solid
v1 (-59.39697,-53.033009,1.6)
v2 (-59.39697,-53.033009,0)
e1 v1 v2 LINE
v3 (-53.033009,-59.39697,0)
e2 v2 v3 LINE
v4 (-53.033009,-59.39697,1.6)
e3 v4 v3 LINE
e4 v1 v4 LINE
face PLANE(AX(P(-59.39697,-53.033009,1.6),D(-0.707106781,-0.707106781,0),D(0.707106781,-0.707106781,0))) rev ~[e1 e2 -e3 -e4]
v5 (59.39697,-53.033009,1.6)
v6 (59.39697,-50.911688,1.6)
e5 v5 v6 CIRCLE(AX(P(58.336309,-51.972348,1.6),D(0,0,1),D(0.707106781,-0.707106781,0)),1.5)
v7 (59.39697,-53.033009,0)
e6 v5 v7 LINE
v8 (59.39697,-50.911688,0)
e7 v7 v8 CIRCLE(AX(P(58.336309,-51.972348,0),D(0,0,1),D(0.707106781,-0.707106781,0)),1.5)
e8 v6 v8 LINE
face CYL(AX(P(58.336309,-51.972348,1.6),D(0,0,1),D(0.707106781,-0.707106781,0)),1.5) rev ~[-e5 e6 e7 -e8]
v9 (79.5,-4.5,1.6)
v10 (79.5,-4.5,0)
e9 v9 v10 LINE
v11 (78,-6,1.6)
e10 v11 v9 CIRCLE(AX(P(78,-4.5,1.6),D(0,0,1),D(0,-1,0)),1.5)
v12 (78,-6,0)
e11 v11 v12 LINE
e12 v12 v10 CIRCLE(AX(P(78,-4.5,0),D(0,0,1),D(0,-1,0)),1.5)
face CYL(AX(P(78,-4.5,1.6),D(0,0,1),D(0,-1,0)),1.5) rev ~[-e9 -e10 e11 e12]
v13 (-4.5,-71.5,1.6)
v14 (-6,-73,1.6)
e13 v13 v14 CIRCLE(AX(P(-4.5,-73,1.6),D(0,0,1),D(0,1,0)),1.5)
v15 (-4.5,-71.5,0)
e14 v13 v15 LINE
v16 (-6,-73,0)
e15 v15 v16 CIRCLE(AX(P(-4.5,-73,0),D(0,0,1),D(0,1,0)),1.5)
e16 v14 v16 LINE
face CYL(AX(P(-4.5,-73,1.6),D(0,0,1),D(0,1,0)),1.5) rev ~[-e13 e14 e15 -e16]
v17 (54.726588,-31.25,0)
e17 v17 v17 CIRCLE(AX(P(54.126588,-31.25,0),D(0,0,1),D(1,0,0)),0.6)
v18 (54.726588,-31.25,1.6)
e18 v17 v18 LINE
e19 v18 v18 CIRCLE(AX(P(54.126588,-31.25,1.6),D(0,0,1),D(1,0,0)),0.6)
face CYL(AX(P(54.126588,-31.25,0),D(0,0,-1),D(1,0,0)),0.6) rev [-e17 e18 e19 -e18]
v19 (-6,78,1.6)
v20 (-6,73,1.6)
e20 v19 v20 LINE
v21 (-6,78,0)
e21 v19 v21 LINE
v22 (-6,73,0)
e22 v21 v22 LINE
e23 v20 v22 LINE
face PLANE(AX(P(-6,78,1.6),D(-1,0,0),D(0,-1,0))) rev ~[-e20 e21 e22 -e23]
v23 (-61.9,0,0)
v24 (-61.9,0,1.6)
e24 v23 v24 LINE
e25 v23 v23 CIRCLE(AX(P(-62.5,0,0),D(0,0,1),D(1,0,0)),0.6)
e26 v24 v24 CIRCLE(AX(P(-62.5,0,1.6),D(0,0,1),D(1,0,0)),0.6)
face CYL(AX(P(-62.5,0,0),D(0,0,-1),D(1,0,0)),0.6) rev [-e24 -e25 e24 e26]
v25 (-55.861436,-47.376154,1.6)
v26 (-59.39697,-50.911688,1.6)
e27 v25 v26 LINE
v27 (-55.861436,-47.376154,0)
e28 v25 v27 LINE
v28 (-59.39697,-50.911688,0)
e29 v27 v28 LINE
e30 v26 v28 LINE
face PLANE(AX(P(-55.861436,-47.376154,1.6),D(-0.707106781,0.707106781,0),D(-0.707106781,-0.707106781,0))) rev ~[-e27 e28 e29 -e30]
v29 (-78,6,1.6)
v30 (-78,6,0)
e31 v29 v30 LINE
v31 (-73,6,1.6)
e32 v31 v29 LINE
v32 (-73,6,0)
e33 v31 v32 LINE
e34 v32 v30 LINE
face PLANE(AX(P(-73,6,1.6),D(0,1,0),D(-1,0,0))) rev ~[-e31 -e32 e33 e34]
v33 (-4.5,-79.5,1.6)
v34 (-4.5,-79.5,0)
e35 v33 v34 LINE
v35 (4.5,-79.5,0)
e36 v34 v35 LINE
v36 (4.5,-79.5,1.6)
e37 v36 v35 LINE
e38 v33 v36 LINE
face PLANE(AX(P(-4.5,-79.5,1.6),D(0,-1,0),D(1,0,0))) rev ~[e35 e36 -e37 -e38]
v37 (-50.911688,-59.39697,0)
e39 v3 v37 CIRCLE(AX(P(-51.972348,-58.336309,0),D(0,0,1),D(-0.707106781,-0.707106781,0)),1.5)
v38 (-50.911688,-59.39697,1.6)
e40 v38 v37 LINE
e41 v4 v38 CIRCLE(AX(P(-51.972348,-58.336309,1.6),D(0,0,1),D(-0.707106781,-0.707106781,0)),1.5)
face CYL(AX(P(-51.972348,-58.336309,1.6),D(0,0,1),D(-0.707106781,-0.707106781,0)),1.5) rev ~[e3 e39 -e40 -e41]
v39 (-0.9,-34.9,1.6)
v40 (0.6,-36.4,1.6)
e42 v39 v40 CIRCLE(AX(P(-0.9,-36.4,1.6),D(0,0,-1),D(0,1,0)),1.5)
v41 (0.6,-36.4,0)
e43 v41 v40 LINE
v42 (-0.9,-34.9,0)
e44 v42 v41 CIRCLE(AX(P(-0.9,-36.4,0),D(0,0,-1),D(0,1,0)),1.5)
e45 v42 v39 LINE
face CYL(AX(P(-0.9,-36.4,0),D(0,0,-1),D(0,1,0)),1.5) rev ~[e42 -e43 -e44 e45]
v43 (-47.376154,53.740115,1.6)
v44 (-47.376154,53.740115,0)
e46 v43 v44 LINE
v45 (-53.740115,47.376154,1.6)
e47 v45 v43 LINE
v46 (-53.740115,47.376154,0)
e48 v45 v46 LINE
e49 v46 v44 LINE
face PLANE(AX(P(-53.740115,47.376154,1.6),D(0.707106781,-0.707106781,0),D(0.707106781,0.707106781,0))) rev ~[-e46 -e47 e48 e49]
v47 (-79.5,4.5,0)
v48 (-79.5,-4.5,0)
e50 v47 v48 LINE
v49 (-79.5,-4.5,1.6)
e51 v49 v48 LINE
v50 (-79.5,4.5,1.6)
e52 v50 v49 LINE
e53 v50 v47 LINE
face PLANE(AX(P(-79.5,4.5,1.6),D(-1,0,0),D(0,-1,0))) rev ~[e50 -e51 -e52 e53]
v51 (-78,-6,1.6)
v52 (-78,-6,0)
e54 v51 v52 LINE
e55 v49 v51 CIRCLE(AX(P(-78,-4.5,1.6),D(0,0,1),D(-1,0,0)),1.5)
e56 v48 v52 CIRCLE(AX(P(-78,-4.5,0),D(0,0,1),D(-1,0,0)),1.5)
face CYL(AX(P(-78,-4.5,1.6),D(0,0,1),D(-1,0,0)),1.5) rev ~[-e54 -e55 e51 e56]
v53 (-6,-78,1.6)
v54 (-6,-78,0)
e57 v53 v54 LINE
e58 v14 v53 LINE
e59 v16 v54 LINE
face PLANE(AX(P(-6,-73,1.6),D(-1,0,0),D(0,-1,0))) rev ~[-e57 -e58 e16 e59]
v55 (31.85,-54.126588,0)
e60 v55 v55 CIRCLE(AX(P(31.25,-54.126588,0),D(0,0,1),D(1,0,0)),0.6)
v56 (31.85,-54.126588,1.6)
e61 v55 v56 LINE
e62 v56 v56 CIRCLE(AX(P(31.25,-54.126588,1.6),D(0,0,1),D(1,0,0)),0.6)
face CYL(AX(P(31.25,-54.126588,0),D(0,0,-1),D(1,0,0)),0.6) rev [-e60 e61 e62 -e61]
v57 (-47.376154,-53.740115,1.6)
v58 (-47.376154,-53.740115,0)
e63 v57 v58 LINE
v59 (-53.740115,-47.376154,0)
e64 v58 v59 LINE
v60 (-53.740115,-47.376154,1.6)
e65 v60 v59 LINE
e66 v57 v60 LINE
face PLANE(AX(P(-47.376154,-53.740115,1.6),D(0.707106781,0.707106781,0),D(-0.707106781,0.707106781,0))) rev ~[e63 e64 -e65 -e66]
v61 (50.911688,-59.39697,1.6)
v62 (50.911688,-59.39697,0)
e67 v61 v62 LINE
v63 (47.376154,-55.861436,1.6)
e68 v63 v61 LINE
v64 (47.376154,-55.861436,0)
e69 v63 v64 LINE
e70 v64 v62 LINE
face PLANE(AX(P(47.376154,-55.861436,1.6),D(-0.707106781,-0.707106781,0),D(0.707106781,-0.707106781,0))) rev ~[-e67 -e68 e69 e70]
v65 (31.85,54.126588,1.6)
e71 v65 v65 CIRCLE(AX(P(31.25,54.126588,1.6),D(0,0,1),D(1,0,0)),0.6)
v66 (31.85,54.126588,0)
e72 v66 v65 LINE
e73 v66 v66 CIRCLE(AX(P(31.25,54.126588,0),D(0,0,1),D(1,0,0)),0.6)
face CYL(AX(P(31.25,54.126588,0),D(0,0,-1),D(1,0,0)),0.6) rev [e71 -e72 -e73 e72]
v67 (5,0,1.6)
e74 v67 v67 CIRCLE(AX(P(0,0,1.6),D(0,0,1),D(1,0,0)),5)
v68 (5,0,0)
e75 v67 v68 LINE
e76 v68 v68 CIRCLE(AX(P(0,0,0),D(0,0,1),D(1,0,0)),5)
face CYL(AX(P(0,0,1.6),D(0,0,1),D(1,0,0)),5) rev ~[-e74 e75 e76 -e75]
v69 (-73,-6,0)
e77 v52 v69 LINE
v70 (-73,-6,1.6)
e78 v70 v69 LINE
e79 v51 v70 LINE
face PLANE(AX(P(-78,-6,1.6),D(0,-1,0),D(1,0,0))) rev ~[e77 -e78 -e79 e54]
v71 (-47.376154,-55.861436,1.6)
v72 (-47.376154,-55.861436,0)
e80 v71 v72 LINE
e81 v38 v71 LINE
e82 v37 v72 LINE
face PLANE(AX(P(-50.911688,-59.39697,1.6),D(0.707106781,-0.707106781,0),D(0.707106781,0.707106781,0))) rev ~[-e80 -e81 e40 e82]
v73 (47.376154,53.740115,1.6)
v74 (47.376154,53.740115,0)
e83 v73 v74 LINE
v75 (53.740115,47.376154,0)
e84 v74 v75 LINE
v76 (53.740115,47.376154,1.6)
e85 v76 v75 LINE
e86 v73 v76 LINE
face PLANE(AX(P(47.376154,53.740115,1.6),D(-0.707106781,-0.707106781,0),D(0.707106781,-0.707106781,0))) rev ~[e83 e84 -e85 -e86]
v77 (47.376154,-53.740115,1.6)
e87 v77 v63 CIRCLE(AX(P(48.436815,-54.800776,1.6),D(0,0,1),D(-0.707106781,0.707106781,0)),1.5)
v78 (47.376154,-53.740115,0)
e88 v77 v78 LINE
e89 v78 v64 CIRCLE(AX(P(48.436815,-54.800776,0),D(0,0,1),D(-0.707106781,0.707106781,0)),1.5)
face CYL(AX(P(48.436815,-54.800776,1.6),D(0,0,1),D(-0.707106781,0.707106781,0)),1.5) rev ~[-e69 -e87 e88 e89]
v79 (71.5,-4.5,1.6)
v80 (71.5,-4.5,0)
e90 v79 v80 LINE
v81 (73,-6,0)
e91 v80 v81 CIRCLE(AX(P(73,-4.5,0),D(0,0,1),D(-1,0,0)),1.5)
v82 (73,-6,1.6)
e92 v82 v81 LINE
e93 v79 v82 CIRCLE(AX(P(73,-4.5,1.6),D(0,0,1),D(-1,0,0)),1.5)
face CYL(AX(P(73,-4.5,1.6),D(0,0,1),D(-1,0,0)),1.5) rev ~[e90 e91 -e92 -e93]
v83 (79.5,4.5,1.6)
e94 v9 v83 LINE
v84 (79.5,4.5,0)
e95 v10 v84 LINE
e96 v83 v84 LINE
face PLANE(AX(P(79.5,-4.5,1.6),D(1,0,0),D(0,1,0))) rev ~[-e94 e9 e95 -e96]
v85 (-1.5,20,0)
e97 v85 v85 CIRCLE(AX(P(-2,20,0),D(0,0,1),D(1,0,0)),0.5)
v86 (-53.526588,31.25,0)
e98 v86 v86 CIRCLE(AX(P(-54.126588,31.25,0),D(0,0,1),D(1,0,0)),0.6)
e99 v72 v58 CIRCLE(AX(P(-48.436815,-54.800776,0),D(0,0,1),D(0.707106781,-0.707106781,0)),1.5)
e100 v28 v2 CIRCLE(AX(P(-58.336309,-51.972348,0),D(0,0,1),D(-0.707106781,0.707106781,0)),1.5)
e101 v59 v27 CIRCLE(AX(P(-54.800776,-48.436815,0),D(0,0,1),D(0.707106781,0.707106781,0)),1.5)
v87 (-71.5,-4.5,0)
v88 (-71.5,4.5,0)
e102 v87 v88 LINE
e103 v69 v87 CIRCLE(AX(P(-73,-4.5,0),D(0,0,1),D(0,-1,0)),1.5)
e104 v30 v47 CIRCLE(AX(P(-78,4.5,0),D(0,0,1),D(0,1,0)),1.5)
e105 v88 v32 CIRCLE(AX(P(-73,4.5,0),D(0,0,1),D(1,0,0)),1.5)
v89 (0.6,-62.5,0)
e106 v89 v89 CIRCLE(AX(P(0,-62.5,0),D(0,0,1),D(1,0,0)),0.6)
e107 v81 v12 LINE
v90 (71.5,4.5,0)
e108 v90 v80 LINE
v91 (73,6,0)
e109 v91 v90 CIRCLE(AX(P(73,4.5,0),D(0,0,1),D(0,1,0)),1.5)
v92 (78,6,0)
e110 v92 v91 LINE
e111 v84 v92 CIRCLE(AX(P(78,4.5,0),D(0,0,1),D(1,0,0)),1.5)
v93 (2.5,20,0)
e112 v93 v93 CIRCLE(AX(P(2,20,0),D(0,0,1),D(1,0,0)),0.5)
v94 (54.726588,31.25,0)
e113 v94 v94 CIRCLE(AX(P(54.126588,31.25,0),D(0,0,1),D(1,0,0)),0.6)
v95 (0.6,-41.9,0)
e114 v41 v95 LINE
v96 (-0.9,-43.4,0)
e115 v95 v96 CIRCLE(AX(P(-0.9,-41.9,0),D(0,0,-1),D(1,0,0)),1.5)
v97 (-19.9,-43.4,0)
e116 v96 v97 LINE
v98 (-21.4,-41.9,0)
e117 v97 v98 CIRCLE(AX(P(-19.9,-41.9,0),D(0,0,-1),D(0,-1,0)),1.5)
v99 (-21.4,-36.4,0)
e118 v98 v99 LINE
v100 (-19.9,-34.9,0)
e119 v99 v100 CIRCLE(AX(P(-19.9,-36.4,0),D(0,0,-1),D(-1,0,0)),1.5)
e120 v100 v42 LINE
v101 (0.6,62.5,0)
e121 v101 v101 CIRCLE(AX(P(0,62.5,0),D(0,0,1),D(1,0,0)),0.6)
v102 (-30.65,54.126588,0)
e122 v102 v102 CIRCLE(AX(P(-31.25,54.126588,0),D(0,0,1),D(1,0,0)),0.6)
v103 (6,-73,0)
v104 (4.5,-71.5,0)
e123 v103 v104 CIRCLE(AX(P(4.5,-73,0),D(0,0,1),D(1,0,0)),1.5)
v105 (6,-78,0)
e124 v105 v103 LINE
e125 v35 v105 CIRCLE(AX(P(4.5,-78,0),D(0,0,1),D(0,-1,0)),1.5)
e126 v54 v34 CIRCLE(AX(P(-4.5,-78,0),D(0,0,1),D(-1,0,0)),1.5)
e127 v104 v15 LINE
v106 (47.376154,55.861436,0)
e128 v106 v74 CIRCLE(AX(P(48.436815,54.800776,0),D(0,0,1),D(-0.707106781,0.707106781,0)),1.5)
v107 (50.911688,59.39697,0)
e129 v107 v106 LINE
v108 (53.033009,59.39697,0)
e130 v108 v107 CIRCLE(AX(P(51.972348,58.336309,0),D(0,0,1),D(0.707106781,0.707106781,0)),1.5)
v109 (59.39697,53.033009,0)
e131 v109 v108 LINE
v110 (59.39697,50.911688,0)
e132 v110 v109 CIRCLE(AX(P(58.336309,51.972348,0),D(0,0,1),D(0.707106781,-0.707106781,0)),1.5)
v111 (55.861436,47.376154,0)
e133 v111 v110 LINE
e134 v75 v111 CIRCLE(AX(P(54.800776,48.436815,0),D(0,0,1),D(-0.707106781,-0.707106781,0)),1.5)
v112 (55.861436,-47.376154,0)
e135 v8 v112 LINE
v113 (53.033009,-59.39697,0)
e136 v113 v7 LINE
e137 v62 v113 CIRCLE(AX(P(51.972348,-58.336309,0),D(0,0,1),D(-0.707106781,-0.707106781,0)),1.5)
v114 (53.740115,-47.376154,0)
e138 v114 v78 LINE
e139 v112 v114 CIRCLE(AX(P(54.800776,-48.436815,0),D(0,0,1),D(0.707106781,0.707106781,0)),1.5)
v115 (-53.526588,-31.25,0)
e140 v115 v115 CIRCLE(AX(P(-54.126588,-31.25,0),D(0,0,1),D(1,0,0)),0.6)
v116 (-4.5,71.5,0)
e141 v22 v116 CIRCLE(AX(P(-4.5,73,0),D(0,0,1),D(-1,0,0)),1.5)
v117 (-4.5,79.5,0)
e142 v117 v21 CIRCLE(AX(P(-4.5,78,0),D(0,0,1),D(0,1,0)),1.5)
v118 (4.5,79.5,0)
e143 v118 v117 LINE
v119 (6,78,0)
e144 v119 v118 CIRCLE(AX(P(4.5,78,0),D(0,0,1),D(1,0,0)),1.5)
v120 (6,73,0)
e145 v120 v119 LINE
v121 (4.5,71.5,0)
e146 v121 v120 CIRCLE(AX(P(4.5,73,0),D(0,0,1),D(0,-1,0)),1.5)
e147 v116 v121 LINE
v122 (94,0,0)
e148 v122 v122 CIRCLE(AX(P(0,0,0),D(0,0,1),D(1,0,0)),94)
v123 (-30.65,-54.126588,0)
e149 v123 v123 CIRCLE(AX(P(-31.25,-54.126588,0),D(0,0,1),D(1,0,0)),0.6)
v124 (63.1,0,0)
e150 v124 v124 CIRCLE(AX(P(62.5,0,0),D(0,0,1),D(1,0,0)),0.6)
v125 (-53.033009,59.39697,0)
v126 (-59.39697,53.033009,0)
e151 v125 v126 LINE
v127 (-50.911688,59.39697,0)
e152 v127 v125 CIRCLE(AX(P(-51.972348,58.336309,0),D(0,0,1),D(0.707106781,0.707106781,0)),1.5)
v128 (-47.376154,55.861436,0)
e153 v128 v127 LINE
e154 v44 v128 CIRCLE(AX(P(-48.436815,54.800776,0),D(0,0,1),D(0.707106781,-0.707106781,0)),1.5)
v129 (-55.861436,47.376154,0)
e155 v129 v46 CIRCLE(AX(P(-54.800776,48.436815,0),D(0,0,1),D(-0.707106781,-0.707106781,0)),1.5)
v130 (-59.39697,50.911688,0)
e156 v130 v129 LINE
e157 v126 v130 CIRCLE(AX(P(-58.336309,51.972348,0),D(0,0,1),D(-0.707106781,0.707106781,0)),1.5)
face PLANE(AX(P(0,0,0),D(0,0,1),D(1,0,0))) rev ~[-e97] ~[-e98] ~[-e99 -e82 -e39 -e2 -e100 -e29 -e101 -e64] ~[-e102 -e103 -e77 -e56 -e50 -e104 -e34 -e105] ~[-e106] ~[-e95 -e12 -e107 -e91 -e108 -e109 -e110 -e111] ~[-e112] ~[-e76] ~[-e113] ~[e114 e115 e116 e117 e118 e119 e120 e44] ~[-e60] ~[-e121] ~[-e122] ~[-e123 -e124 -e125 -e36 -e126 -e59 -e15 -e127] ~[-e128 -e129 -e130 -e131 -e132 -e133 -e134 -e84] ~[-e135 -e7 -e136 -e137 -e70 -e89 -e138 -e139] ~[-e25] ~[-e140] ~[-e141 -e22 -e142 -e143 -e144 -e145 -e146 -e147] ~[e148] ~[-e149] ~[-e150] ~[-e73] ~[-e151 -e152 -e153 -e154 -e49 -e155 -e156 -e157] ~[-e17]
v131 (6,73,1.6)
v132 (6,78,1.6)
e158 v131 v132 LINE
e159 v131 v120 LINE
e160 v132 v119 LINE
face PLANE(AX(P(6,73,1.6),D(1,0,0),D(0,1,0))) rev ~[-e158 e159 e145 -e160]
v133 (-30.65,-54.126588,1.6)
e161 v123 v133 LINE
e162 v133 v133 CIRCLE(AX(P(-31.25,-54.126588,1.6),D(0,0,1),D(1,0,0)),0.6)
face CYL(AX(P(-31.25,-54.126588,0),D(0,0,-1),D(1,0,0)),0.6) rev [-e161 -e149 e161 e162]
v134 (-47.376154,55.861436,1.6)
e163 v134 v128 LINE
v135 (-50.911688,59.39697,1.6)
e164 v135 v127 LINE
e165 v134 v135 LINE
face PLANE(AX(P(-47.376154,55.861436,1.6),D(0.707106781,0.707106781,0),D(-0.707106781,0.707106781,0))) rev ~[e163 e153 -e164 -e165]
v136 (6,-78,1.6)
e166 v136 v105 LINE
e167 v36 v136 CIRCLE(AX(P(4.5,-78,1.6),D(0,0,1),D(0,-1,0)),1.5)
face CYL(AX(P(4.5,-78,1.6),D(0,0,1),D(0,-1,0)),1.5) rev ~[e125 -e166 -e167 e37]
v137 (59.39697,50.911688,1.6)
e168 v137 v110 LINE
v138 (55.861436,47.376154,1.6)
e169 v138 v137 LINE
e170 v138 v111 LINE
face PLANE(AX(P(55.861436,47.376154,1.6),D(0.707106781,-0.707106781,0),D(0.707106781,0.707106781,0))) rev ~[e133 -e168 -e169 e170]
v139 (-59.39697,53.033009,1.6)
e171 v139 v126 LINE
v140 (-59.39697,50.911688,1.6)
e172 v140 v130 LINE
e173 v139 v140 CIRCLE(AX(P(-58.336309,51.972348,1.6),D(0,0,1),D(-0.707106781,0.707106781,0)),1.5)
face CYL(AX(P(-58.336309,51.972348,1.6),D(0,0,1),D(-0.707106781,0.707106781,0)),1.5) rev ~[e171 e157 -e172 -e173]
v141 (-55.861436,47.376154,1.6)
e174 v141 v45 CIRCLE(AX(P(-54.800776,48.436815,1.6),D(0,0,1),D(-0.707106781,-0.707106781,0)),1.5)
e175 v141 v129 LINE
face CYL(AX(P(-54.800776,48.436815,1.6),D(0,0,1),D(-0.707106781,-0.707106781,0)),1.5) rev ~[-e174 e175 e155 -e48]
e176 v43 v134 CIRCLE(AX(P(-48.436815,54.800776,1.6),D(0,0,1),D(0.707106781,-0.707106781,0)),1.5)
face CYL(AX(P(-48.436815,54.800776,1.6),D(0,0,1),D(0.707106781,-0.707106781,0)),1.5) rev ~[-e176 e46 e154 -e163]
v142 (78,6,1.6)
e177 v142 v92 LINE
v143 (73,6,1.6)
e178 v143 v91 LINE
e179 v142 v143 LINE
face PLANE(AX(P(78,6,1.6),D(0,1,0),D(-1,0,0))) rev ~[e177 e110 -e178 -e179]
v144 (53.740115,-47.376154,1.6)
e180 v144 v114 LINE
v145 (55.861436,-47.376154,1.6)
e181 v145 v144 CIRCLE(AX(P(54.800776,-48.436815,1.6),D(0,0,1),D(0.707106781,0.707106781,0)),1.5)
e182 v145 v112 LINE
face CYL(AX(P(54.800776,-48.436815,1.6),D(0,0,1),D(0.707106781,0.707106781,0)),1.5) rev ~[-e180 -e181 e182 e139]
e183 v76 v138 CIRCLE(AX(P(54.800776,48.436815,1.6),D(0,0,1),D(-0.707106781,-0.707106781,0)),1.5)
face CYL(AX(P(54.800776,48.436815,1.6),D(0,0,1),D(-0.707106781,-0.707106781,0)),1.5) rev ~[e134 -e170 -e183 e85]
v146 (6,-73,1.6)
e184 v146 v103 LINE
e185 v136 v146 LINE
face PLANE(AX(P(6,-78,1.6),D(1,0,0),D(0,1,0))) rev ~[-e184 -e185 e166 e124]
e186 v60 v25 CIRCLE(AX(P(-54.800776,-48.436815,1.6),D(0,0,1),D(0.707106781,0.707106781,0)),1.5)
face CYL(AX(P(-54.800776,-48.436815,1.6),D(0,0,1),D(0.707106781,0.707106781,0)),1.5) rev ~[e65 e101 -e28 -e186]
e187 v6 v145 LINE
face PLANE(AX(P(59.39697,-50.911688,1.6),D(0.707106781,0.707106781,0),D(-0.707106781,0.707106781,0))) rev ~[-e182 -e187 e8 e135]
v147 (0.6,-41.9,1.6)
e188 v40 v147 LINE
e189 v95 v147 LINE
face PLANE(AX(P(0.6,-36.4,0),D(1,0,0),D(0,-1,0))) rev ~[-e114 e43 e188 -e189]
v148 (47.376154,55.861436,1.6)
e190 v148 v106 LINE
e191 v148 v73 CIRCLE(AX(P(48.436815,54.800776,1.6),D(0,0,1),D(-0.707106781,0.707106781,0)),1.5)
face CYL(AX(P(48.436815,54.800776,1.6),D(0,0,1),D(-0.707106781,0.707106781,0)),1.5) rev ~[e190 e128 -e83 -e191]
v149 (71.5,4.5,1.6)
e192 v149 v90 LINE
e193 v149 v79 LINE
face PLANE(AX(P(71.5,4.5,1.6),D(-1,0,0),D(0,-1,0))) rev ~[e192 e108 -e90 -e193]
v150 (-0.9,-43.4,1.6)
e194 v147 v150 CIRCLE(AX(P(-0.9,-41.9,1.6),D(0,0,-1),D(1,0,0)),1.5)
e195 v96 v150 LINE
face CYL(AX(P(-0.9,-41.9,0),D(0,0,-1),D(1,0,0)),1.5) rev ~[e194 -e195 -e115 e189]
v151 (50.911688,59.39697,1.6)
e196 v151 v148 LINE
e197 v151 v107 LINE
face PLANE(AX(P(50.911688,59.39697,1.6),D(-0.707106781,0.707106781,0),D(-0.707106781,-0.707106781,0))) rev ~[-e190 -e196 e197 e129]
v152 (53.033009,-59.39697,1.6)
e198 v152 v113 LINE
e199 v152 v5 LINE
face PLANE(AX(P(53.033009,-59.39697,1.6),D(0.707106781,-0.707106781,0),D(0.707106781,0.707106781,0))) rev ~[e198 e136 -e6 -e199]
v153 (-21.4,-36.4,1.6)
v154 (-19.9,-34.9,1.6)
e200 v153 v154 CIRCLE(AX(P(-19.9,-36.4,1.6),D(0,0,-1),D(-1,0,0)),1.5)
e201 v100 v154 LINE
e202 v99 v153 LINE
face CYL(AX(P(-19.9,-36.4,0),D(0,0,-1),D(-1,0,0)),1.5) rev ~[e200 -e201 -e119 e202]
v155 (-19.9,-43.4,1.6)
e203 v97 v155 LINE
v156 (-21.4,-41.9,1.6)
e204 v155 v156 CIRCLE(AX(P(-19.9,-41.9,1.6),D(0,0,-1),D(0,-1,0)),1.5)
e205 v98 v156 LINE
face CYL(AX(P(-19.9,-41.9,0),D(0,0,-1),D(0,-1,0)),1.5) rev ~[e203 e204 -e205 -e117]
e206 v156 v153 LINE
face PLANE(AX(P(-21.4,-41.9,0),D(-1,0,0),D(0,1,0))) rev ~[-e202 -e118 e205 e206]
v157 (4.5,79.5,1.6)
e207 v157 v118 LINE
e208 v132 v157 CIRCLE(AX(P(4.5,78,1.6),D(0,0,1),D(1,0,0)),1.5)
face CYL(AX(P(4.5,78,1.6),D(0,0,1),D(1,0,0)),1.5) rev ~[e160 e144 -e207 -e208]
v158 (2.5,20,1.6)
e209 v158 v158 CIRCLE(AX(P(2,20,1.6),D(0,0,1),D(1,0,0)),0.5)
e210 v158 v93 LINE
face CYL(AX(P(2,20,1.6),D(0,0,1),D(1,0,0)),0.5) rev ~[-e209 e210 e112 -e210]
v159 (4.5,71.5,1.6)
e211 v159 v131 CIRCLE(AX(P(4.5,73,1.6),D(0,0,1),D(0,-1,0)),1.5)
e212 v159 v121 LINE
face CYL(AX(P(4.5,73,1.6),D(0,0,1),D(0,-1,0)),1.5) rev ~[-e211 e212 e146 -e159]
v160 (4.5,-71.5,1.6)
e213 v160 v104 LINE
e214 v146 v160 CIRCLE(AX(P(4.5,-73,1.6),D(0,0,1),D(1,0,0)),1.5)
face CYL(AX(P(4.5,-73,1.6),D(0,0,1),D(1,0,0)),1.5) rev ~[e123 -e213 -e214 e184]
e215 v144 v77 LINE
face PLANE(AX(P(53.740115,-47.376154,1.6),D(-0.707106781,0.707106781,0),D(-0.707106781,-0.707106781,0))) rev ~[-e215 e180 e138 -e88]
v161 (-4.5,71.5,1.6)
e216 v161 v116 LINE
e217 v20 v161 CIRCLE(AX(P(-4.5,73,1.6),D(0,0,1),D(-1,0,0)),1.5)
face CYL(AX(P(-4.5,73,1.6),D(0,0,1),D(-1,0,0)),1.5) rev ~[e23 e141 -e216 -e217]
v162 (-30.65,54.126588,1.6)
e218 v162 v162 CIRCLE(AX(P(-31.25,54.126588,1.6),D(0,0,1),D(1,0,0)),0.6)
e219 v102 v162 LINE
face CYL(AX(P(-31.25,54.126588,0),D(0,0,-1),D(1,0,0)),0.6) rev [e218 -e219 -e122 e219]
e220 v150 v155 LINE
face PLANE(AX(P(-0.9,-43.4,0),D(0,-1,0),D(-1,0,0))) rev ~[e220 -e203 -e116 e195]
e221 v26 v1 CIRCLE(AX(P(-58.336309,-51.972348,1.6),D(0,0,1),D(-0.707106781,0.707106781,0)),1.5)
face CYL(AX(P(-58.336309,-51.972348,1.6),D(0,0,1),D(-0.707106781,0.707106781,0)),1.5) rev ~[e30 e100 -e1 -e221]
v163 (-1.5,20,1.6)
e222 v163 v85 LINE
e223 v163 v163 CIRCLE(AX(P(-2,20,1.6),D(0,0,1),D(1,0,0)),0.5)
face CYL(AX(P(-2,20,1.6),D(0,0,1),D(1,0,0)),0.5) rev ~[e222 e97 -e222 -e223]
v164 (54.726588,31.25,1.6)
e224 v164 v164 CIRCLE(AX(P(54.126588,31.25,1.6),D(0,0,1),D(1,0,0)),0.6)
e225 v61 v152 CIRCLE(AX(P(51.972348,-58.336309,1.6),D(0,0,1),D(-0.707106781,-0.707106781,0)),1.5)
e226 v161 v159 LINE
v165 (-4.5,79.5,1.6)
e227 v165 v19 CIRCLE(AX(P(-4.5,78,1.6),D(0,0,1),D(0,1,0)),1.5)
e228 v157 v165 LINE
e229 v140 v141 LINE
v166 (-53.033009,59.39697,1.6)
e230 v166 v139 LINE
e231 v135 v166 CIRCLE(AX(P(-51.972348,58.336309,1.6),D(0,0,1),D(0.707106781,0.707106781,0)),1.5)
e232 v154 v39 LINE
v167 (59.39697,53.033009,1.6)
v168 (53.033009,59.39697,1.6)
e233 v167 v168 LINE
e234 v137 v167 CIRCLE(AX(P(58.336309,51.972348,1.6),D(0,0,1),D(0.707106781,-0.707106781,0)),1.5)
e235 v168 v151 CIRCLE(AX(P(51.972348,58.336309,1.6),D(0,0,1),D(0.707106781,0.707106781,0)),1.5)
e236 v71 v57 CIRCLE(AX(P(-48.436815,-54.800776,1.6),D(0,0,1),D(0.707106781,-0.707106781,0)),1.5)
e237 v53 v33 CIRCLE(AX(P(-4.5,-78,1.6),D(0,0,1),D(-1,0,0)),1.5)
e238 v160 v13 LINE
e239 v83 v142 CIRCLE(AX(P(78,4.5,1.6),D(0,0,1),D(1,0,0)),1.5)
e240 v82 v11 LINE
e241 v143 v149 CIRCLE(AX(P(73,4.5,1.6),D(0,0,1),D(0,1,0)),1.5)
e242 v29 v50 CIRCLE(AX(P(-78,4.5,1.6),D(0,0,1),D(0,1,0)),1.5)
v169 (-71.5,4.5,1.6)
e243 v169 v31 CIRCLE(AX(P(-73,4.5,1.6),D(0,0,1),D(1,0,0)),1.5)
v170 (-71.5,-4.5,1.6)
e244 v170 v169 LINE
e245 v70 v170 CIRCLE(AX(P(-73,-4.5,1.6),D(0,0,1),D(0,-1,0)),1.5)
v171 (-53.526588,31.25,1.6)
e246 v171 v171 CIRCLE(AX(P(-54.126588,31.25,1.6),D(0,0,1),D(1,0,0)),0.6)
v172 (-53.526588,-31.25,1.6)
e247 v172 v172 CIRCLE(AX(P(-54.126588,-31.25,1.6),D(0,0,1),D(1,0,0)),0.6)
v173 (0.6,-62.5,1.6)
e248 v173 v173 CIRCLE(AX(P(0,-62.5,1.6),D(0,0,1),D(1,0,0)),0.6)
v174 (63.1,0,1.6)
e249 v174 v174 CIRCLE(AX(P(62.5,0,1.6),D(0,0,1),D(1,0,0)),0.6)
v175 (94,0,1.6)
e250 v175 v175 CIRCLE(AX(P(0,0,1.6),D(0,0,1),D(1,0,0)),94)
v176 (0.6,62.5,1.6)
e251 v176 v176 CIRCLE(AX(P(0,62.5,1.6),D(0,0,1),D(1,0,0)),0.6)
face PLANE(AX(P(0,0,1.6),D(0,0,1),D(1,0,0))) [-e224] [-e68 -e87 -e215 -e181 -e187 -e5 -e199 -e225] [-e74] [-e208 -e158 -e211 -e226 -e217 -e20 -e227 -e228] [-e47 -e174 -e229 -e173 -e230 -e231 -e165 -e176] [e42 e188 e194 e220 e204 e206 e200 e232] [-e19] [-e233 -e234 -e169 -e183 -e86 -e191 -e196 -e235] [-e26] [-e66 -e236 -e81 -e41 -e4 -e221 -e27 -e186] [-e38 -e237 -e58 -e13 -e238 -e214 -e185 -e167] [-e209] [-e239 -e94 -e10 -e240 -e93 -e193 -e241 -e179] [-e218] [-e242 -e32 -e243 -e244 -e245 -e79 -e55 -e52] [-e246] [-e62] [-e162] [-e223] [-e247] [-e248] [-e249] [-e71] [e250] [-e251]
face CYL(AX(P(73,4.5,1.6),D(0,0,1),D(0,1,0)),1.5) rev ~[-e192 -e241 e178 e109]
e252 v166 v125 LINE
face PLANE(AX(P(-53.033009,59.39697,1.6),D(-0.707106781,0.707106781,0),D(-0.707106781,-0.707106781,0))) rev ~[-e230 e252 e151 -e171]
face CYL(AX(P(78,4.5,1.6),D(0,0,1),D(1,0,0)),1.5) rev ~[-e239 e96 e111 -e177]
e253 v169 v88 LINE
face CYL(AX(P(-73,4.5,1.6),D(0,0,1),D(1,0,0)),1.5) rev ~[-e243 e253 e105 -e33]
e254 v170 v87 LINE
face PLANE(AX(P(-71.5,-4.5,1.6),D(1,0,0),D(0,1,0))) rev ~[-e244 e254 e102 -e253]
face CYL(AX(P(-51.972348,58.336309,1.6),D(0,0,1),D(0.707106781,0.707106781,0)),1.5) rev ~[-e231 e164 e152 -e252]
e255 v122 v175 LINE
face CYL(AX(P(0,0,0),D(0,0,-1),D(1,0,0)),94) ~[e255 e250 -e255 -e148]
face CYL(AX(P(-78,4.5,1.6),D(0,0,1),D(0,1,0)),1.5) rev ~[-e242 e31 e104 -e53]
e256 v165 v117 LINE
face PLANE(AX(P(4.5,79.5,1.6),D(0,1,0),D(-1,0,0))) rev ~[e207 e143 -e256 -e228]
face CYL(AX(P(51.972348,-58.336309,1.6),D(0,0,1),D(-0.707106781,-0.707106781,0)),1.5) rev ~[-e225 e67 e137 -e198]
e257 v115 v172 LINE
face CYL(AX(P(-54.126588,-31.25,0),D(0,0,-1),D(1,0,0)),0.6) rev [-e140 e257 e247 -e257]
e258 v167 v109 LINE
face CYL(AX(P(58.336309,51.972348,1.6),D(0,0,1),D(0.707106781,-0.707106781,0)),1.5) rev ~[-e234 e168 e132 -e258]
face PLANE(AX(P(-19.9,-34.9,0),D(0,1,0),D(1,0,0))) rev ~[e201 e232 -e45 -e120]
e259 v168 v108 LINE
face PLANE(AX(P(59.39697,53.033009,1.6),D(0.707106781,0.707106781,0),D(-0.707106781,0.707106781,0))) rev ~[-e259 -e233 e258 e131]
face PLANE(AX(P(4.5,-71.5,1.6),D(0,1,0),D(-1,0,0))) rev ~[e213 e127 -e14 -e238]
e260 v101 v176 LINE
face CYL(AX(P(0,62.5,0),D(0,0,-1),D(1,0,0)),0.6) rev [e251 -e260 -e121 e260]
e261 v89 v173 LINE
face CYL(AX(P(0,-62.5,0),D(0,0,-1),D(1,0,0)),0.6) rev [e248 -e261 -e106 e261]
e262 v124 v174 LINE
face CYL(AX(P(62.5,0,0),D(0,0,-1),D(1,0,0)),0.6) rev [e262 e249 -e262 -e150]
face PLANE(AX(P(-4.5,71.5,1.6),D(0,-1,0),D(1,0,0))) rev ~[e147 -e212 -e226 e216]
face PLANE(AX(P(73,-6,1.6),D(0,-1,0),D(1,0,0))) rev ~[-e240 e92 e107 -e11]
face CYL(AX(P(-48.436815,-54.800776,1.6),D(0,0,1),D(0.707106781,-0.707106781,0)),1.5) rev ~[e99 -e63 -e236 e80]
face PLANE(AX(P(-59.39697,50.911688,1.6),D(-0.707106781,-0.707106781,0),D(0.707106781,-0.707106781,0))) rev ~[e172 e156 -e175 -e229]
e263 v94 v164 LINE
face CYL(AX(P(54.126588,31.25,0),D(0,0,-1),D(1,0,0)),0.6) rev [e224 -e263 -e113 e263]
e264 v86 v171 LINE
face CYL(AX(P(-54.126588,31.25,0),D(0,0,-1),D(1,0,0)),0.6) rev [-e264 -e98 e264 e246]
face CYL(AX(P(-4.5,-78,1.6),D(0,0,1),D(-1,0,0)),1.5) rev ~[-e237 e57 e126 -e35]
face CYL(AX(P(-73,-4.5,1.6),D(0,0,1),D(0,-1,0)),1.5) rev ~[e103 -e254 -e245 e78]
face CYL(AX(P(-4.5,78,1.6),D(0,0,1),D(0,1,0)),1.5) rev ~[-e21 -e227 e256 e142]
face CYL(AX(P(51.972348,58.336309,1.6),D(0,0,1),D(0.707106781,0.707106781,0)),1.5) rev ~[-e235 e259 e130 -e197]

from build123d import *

# Parameters (mm, degrees)
F0_R      = 94
F1_DEPTH  = 1.6
F2_R      = 0.6
F3_DEPTH  = 1.6
F5_DEPTH  = 1.6
F6_COUNT  = 8
F6_ANGLE  = 315
F8_DEPTH  = 1.6
F9_R      = 0.5
F9_R_2    = 5
F10_DEPTH = 1.6


with BuildPart() as f1:
    # F0 (on Top) → F1 (new body)
    with BuildSketch(Plane.XY):
        Circle(F0_R)
    extrude(amount=F1_DEPTH)

    # F2 (on Top) → F3 (cut, through all)
    with BuildSketch(Plane.XY):
        with Locations((0, 62.5)):
            Circle(F2_R)
        with Locations((-31.25, 54.1265877365)):
            Circle(F2_R)
        with Locations((-54.1265877365, 31.25)):
            Circle(F2_R)
        with Locations((-62.5, 0)):
            Circle(F2_R)
        with Locations((-54.1265877365, -31.25)):
            Circle(F2_R)
        with Locations((-31.25, -54.1265877365)):
            Circle(F2_R)
        with Locations((0, -62.5)):
            Circle(F2_R)
        with Locations((31.25, -54.1265877365)):
            Circle(F2_R)
        with Locations((54.1265877365, -31.25)):
            Circle(F2_R)
        with Locations((62.5, 0)):
            Circle(F2_R)
        with Locations((54.1265877365, 31.25)):
            Circle(F2_R)
        with Locations((31.25, 54.1265877365)):
            Circle(F2_R)
    extrude(amount=F3_DEPTH, mode=Mode.SUBTRACT)

    # F4 (on face) → F5 (cut, through all)
    with BuildSketch(Plane.XY.offset(1.6)):
        with BuildLine():
            Line((4.5, 79.5), (-4.5, 79.5))
            ThreePointArc((-4.5, 79.5), (-5.5606601718, 79.0606601718), (-6, 78))
            Line((-6, 78), (-6, 73))
            ThreePointArc((-6, 73), (-5.5606601718, 71.9393398282), (-4.5, 71.5))
            Line((-4.5, 71.5), (4.5, 71.5))
            ThreePointArc((4.5, 71.5), (5.5606601718, 71.9393398282), (6, 73))
            Line((6, 73), (6, 78))
            ThreePointArc((6, 78), (5.5606601718, 79.0606601718), (4.5, 79.5))
        make_face()
    f5 = extrude(amount=-F5_DEPTH, mode=Mode.SUBTRACT)

    # F6: F5 ×8 about axis
    f6_axis = Axis((0, 0, 1.6), (0, 0, 1))
    for i in range(1, F6_COUNT):
        add(f5.rotate(f6_axis, i * F6_ANGLE / (F6_COUNT - 1)), mode=Mode.SUBTRACT)

    # F7 (on face) → F8 (cut, through all)
    with BuildSketch(Plane(origin=(0, 0, 0), x_dir=(1, 0, 0), z_dir=(0, 0, -1))):
        with BuildLine():
            Line((-0.9, 43.4), (-19.9, 43.4))
            ThreePointArc((-19.9, 43.4), (-20.9606601718, 42.9606601718), (-21.4, 41.9))
            Line((-21.4, 41.9), (-21.4, 36.4))
            ThreePointArc((-21.4, 36.4), (-20.9606601718, 35.3393398282), (-19.9, 34.9))
            Line((-19.9, 34.9), (-0.9, 34.9))
            ThreePointArc((-0.9, 34.9), (0.1606601718, 35.3393398282), (0.6, 36.4))
            Line((0.6, 36.4), (0.6, 41.9))
            ThreePointArc((0.6, 41.9), (0.1606601718, 42.9606601718), (-0.9, 43.4))
        make_face()
    extrude(amount=-F8_DEPTH, mode=Mode.SUBTRACT)

    # F9 (on face) → F10 (cut, through all)
    with BuildSketch(Plane.XY.offset(1.6)):
        with Locations((-2, 20)):
            Circle(F9_R)
        with Locations((2, 20)):
            Circle(F9_R)
        Circle(F9_R_2)
    extrude(amount=-F10_DEPTH, mode=Mode.SUBTRACT)


solid = f1.part
